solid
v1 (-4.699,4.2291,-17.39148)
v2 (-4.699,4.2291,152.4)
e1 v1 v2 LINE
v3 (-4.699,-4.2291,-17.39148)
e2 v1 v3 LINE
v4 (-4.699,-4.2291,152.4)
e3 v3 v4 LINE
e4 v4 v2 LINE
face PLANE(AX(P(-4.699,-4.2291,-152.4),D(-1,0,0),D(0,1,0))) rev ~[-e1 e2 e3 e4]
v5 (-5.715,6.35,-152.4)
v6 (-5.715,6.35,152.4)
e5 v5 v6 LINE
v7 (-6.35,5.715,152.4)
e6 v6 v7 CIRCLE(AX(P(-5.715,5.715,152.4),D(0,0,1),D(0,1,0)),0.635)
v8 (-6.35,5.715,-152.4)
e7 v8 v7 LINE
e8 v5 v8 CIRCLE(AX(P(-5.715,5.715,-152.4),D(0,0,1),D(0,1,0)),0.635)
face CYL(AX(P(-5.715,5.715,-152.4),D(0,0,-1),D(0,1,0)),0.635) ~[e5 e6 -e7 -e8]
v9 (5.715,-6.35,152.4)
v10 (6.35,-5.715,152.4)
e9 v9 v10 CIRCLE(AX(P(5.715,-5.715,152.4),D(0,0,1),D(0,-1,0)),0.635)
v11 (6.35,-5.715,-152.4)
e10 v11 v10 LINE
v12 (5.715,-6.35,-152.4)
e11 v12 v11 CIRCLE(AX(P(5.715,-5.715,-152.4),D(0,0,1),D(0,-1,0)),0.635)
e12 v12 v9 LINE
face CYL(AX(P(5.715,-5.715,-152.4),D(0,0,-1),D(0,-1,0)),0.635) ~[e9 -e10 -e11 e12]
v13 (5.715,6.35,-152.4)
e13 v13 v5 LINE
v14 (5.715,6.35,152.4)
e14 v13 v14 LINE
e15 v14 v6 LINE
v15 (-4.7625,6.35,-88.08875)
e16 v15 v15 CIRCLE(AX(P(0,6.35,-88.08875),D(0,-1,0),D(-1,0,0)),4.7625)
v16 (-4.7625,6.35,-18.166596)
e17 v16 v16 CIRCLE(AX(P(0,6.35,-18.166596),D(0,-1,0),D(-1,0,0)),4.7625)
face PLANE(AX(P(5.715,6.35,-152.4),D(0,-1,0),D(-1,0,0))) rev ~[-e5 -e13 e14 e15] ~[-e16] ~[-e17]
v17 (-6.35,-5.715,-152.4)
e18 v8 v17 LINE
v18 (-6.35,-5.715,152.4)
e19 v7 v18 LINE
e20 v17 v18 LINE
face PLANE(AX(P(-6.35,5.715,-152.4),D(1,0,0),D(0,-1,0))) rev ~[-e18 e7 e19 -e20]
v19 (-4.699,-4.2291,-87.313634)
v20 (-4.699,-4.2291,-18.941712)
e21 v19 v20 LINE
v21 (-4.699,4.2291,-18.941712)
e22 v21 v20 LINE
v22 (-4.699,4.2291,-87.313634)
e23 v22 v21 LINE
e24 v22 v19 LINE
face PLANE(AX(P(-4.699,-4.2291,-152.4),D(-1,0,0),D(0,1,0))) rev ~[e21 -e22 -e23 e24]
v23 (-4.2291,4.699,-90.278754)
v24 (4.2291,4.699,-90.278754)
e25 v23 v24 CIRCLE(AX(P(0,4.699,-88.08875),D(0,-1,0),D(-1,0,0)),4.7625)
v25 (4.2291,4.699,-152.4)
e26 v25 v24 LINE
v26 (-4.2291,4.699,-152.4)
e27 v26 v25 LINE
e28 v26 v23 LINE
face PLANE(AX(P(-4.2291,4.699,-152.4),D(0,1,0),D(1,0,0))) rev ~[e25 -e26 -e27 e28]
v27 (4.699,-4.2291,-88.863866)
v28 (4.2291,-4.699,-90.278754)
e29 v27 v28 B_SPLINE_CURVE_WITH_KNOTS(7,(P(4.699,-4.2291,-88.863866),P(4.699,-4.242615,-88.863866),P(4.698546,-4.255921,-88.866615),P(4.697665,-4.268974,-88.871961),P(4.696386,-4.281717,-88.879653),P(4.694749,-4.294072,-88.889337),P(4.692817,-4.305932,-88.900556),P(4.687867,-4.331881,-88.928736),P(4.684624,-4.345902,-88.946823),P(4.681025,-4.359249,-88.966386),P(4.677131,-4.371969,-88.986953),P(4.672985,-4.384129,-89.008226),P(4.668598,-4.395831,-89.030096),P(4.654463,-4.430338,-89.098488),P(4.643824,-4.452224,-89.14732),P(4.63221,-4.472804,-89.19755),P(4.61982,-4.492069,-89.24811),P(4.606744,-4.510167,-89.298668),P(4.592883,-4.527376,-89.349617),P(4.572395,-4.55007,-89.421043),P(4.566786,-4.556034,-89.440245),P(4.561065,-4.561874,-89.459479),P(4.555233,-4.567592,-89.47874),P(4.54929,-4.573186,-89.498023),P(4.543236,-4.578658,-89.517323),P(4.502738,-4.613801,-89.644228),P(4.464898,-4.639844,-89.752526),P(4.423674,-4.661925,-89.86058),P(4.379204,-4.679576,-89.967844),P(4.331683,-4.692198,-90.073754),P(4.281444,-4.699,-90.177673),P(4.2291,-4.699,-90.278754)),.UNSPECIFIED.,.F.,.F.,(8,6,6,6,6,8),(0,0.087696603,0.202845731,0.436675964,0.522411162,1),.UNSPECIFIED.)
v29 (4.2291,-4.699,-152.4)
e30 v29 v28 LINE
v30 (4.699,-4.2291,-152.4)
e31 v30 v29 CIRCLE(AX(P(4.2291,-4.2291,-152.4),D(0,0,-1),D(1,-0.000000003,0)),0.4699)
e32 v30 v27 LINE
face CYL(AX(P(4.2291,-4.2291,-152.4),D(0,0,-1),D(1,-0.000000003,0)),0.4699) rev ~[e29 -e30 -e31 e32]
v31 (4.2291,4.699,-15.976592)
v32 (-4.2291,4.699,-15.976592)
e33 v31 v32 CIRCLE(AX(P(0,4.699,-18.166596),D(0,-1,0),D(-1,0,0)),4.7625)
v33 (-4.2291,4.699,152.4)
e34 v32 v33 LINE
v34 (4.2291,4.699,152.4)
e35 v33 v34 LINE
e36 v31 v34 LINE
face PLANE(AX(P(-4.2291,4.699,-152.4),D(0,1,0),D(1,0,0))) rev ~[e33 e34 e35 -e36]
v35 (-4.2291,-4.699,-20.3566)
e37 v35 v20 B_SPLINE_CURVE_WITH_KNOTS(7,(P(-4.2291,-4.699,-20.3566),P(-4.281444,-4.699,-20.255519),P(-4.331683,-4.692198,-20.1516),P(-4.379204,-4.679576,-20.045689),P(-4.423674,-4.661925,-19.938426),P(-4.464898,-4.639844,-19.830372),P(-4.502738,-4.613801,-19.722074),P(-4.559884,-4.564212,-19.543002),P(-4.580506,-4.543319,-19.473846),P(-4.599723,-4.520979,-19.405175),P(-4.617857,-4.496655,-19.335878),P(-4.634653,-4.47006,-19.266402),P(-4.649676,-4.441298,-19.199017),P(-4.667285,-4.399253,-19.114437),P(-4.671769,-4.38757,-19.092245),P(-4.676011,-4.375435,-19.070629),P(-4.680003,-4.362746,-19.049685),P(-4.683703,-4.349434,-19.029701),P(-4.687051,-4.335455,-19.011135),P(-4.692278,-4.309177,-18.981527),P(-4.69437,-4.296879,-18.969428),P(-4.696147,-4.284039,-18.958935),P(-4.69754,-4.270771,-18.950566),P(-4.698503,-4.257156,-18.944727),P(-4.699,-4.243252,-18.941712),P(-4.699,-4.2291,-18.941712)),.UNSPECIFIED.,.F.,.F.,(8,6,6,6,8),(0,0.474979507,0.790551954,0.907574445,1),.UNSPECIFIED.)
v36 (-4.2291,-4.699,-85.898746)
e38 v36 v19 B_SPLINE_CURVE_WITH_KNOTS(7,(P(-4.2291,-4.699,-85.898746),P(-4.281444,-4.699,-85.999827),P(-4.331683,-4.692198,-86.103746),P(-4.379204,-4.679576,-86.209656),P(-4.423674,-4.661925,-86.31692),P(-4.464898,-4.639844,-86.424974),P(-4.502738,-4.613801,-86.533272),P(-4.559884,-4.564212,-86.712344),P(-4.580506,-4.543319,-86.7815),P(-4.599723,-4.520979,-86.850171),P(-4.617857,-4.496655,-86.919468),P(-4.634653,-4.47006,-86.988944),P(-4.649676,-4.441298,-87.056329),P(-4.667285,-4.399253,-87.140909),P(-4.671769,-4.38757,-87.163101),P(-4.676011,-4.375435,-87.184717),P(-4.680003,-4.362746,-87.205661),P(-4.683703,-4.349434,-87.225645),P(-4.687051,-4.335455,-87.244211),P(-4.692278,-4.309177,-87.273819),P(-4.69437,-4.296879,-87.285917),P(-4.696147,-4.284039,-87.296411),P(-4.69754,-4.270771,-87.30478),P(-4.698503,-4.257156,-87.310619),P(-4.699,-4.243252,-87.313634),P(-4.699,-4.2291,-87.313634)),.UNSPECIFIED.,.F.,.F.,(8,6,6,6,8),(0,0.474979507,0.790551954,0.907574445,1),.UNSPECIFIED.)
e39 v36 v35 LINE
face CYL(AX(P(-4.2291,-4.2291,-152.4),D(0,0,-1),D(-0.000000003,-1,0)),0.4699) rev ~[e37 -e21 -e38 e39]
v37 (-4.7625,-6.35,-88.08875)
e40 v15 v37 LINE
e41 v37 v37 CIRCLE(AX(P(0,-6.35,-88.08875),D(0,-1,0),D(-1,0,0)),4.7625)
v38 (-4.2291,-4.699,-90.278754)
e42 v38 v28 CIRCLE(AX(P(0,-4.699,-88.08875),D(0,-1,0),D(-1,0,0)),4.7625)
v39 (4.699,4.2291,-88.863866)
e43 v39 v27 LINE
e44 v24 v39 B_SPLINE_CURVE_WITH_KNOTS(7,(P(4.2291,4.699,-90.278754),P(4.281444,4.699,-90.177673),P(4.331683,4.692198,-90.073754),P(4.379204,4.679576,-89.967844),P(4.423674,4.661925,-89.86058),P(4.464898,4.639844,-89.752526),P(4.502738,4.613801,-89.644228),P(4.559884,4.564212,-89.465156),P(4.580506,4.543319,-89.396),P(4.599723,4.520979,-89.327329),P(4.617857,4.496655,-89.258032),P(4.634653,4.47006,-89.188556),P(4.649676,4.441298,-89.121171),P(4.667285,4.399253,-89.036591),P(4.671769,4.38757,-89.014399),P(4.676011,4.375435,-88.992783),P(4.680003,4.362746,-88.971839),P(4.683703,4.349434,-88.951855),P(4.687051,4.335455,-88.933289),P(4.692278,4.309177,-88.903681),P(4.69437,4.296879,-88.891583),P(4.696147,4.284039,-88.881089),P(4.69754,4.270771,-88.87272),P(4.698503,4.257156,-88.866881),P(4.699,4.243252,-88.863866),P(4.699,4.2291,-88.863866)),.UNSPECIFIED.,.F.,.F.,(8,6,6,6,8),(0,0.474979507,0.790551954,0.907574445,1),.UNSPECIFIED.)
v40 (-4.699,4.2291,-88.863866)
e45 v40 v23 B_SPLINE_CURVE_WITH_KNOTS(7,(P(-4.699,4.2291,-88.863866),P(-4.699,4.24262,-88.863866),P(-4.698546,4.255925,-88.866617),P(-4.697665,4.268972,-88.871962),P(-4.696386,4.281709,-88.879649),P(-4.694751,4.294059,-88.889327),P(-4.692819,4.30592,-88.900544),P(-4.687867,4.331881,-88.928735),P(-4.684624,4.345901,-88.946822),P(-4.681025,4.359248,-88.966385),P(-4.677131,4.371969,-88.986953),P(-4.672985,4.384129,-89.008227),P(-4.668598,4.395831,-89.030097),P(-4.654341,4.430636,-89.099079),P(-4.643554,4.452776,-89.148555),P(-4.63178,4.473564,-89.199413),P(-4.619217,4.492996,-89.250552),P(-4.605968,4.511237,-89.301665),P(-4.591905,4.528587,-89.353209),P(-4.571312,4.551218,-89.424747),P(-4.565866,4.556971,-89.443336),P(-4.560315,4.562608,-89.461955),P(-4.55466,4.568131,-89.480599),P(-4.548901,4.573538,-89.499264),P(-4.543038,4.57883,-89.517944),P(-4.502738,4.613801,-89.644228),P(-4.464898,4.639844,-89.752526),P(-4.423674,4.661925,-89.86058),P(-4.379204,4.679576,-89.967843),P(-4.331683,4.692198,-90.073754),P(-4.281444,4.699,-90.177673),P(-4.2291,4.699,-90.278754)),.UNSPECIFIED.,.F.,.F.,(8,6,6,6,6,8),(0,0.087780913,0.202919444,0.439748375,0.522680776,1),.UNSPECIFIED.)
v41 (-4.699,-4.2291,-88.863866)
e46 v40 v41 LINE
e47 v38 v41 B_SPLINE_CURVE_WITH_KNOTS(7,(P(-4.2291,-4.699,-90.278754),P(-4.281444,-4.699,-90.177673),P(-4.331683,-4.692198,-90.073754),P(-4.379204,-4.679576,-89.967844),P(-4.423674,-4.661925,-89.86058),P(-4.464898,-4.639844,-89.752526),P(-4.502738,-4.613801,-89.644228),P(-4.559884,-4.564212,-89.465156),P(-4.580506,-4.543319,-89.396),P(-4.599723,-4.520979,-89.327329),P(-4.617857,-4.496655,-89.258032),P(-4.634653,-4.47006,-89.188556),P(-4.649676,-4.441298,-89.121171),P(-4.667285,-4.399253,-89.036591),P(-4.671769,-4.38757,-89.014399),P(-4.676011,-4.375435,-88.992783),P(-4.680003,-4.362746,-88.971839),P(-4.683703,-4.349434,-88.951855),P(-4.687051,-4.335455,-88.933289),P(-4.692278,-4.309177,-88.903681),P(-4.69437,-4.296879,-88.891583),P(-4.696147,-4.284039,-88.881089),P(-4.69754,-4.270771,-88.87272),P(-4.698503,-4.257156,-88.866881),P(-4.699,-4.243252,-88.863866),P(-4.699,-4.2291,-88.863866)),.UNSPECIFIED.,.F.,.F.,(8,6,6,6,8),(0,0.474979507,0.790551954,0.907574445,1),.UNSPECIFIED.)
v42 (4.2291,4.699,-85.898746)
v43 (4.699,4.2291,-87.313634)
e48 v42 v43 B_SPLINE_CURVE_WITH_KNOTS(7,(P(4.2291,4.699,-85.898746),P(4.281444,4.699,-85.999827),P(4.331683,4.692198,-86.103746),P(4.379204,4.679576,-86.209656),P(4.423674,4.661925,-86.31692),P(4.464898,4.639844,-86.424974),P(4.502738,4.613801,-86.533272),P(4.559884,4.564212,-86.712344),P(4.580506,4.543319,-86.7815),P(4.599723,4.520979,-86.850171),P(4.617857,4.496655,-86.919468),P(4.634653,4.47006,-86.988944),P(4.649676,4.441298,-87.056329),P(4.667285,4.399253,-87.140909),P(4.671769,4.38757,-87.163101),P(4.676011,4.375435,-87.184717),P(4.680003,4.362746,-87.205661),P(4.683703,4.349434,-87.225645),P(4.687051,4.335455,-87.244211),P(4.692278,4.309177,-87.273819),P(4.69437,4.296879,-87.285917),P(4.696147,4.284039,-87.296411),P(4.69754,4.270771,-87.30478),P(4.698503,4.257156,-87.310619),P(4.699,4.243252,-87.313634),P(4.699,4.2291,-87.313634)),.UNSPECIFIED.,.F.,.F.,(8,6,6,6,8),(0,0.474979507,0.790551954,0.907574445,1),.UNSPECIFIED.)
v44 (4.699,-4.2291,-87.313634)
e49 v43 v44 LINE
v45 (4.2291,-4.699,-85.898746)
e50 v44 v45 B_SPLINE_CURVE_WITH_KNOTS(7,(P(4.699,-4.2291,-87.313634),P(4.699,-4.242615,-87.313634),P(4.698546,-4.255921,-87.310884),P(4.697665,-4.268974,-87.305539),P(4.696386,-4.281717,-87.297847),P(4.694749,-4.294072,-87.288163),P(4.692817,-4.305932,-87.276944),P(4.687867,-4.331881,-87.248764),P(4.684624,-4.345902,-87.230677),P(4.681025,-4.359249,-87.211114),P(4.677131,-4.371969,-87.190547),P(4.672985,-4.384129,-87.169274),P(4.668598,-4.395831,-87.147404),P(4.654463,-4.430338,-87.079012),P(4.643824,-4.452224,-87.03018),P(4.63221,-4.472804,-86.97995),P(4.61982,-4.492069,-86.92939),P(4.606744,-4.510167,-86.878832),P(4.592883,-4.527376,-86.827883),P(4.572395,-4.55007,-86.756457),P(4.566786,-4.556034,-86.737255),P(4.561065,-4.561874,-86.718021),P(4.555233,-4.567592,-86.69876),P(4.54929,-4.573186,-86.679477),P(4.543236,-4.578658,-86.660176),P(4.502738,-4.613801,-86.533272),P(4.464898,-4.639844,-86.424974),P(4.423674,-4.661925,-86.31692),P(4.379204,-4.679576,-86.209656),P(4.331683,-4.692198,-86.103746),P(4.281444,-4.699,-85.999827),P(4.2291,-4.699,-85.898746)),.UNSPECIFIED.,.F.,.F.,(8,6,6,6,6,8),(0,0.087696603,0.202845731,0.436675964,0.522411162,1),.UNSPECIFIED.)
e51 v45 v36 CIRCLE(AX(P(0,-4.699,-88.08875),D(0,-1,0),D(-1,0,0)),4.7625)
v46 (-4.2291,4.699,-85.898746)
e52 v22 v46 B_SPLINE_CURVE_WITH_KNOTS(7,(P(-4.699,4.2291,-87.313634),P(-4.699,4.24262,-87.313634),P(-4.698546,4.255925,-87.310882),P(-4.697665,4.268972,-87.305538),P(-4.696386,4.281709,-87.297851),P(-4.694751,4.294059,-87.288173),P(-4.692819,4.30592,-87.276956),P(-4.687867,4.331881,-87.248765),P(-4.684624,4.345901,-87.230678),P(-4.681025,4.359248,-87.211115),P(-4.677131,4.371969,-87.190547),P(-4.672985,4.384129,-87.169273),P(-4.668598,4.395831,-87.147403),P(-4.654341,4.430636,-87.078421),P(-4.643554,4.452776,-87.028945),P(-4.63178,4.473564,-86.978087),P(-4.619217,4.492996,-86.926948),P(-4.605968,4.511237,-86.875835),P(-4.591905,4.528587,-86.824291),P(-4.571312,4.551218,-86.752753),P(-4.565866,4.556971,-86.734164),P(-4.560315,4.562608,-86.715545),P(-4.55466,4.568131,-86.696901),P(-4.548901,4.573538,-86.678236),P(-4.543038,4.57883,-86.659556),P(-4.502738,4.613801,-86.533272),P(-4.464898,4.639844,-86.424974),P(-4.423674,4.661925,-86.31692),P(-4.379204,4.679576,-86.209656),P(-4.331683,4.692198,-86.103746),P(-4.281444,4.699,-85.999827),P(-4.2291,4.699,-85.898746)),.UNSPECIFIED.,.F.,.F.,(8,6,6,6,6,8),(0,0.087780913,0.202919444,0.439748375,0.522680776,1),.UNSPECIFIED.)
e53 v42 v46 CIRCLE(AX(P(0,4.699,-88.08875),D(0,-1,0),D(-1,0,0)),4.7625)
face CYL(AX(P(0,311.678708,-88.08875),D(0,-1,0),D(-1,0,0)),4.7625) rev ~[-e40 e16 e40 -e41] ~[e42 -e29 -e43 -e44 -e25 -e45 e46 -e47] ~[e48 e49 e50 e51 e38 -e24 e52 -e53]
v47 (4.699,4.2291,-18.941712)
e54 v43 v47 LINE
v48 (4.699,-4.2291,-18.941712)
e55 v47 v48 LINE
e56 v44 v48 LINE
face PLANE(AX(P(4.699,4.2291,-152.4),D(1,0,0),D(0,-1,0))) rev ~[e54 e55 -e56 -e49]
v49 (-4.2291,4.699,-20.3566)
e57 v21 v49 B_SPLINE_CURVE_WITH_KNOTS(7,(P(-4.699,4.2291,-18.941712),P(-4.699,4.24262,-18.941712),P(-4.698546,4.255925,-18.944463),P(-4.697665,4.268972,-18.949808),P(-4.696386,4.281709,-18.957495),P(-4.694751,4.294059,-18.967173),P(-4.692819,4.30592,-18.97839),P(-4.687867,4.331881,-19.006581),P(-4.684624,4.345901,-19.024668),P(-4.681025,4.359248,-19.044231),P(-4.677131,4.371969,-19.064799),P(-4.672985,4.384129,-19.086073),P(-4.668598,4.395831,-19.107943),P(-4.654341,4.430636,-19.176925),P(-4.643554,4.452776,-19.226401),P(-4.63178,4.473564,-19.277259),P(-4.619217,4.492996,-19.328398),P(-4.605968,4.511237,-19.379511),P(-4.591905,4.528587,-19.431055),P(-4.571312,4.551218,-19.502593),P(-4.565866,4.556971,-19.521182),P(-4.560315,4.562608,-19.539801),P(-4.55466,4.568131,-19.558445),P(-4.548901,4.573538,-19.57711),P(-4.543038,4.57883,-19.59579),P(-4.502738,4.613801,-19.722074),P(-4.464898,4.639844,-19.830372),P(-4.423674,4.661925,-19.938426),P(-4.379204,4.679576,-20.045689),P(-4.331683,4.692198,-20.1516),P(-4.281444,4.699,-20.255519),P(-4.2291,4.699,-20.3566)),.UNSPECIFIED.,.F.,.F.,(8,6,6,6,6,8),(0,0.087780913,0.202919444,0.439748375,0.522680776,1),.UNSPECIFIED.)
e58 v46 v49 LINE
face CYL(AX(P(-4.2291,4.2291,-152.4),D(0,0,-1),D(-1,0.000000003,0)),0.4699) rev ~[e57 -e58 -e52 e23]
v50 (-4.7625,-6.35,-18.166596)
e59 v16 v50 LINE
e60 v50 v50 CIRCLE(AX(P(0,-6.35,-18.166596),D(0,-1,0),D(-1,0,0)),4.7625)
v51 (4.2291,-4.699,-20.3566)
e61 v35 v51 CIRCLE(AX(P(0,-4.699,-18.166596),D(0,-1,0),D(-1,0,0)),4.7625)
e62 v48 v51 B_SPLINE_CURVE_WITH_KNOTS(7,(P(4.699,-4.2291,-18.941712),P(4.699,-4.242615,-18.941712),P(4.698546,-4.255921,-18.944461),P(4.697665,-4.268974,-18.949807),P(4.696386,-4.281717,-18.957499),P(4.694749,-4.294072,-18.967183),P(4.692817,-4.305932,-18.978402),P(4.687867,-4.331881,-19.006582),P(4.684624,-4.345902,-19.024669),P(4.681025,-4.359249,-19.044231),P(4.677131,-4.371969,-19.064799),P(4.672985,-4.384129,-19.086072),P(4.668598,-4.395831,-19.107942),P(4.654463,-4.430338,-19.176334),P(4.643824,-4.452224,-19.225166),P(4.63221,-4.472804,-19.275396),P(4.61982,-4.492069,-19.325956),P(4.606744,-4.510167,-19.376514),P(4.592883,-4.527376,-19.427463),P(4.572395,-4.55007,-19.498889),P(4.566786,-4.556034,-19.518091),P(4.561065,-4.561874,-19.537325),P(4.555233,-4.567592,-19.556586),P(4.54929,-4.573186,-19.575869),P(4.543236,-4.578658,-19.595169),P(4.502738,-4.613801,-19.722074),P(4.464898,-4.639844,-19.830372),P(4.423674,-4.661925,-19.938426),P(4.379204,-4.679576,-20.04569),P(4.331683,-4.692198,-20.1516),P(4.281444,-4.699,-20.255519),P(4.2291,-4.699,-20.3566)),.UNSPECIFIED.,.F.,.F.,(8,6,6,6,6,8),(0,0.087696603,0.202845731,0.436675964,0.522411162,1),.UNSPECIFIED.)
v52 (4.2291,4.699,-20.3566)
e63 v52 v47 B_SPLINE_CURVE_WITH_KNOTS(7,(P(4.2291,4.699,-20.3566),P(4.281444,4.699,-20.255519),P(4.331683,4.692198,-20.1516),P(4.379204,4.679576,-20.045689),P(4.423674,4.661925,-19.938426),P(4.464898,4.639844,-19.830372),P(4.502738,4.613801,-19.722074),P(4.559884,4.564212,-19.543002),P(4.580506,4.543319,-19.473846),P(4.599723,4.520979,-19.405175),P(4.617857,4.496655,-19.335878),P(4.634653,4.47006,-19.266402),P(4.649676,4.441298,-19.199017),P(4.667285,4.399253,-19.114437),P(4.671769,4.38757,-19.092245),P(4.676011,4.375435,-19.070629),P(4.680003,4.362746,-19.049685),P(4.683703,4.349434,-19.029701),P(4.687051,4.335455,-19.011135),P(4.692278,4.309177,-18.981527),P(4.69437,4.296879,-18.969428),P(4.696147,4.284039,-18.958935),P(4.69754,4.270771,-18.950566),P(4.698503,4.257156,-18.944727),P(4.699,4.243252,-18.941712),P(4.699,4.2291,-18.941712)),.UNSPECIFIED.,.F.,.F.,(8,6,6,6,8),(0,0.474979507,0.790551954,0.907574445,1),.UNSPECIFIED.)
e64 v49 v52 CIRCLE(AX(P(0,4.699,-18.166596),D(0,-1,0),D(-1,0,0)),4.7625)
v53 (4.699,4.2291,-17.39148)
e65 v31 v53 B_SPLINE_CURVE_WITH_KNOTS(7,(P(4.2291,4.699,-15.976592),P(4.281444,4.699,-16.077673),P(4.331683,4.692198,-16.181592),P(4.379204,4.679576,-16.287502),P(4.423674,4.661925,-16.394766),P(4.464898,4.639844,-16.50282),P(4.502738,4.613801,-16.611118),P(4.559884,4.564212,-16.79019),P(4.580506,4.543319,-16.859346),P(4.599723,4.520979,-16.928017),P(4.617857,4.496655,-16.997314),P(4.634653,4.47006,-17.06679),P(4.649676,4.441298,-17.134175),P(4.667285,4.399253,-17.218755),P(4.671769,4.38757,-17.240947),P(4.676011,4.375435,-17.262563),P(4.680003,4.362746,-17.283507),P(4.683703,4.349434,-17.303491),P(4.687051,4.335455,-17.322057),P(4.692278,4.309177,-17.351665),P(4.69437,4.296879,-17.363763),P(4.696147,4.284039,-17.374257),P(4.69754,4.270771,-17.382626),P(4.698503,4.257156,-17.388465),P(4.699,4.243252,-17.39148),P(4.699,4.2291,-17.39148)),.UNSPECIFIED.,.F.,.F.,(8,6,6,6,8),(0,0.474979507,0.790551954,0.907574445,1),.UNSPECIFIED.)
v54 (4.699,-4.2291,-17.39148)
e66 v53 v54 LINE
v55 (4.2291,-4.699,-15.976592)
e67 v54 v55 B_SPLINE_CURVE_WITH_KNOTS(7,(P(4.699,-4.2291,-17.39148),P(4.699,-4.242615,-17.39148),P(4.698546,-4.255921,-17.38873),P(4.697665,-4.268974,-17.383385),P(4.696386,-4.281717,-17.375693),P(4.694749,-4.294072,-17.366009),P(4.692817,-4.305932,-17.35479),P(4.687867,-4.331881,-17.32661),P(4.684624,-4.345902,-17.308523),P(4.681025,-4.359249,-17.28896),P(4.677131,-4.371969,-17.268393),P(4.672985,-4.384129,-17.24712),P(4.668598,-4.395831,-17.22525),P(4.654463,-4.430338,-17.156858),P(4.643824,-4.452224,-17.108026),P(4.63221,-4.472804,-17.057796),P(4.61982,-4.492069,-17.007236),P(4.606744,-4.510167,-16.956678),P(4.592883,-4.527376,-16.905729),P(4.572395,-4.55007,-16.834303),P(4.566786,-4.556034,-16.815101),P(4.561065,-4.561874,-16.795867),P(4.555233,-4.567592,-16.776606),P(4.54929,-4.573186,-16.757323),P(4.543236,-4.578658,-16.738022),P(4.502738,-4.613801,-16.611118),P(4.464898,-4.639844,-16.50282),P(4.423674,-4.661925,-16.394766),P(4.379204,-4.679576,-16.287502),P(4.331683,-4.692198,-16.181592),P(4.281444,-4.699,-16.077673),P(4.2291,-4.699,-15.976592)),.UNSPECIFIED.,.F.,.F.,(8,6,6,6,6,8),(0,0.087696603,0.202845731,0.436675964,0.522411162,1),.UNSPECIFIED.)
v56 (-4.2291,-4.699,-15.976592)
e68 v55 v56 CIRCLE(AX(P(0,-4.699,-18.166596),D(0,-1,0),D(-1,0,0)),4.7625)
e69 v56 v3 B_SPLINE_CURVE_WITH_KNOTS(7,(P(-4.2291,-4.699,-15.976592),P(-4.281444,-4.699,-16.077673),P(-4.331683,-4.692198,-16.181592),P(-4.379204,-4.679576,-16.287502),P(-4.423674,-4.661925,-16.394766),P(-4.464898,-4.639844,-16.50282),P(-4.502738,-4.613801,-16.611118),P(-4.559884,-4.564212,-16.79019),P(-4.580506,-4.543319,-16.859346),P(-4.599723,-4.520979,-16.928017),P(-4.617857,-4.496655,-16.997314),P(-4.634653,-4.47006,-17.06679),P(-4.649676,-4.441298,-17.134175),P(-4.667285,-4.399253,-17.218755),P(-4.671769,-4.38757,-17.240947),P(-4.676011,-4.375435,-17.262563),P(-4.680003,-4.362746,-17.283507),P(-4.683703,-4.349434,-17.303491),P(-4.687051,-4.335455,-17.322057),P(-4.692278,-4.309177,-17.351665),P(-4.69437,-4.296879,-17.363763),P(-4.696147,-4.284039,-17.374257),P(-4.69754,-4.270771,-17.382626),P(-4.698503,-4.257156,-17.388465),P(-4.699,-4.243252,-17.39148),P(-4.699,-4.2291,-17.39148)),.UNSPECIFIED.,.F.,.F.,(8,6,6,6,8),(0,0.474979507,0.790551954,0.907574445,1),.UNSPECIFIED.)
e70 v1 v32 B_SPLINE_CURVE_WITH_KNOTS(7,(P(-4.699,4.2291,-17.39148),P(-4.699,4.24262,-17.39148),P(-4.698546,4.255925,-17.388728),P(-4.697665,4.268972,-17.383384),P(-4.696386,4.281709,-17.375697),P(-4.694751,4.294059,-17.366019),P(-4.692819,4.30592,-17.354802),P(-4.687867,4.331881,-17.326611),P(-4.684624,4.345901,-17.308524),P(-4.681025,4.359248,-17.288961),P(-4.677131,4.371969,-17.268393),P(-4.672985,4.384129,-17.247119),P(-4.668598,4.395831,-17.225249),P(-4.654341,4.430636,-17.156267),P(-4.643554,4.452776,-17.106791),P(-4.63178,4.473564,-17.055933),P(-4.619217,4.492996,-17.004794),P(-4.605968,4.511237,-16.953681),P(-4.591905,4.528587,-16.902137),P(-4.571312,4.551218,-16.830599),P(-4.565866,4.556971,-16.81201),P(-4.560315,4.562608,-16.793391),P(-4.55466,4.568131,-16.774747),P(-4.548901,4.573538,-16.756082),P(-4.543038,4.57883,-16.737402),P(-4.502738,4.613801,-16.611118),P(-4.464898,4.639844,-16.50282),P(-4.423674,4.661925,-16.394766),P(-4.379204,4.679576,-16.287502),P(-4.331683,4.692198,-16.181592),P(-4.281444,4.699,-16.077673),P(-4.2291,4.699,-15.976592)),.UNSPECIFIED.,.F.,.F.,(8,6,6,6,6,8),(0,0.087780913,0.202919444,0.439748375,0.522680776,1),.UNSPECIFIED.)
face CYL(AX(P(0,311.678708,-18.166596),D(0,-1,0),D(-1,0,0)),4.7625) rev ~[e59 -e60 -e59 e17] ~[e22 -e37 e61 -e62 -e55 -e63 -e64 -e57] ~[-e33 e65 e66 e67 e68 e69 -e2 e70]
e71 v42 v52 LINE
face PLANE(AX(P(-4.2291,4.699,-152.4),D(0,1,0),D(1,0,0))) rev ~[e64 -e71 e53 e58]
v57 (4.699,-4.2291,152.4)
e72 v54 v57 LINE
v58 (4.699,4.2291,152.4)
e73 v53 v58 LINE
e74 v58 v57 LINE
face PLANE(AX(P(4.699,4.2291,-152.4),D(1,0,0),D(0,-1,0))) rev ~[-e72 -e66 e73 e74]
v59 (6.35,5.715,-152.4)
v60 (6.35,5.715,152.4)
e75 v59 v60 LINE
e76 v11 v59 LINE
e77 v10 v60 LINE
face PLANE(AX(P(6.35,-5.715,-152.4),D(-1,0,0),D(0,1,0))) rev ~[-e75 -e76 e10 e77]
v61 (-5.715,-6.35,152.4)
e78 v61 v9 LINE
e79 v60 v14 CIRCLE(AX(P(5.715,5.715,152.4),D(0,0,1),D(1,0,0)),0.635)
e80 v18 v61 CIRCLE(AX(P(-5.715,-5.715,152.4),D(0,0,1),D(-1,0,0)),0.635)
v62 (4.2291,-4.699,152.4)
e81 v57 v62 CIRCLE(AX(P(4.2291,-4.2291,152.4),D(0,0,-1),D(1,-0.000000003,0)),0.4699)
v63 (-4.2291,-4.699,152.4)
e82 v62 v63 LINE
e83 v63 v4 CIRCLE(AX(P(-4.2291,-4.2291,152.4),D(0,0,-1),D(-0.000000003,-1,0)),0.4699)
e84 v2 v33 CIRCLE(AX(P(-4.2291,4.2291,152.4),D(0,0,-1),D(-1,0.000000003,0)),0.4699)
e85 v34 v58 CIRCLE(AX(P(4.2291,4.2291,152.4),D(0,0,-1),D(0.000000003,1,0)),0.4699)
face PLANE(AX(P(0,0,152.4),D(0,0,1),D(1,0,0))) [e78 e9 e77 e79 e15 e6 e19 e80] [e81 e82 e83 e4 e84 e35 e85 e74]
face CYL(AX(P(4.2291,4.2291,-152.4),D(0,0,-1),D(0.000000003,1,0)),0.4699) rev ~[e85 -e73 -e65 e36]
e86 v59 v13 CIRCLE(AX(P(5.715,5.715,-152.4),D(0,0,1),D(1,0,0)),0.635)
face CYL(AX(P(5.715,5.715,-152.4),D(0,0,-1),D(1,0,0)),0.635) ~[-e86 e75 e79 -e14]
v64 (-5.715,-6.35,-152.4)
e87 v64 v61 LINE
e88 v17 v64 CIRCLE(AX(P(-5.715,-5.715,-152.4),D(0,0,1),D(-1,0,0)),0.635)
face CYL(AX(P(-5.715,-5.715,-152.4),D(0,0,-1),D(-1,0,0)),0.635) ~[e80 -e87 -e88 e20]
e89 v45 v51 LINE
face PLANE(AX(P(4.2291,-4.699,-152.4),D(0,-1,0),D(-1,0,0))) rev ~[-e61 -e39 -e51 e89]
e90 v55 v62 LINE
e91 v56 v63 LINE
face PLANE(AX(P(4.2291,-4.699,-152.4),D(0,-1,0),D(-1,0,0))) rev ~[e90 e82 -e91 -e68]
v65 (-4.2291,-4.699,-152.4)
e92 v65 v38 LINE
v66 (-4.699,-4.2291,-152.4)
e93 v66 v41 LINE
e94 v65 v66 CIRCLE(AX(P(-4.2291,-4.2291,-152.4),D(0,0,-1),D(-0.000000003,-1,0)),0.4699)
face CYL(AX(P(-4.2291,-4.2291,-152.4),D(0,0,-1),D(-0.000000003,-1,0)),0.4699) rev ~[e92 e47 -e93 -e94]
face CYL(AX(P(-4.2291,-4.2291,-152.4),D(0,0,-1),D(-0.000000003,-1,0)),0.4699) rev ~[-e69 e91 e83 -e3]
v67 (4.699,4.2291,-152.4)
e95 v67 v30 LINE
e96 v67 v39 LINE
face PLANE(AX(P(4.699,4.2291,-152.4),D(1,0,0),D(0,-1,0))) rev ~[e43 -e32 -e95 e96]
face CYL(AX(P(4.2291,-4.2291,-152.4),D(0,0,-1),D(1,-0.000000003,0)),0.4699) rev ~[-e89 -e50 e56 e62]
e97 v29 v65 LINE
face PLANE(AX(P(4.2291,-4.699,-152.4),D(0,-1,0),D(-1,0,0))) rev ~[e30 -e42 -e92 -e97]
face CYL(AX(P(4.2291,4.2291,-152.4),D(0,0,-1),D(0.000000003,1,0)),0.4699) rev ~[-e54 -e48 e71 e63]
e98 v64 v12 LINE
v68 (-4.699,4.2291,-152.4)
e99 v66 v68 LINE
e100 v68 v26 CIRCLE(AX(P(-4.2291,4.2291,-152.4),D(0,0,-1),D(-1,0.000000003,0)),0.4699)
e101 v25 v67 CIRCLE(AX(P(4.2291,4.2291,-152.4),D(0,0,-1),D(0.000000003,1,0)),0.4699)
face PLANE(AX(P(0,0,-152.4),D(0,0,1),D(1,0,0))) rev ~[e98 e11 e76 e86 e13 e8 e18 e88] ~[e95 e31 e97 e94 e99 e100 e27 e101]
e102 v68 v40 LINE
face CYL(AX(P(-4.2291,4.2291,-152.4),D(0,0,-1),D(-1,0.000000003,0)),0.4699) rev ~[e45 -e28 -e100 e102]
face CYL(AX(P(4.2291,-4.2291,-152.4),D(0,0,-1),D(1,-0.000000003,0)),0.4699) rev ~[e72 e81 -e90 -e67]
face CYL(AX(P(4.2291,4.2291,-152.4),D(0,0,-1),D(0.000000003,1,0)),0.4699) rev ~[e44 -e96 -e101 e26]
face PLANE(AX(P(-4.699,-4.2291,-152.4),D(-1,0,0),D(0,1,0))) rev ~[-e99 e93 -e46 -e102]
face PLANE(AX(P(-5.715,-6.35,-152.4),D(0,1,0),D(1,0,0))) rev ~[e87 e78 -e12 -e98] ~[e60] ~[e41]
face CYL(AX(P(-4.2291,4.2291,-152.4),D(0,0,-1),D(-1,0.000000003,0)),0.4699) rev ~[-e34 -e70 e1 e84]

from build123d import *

# Parameters (mm, degrees)
BOSS_EXTRUDE1_DEPTH          = 152.4
BOSS_EXTRUDE1_DEPTH_BACK     = 152.4
F_3_8_0_375_DIAMETER_HOLE1_D = 9.525
F_3_8_0_375_DIAMETER_HOLE2_D = 9.525


with BuildPart() as part:
    # Sketch4 → Boss-Extrude1 (new, two sides: drawn at the far end of the back side and taken through both)
    with BuildSketch(Plane.XY.offset(-BOSS_EXTRUDE1_DEPTH_BACK)):
        with BuildLine():
            Line((6.35, -5.715), (6.35, 5.715))
            ThreePointArc((6.35, 5.715), (6.164012806, 6.164012806), (5.715, 6.35))
            Line((5.715, 6.35), (-5.715, 6.35))
            ThreePointArc((-5.715, 6.35), (-6.164012806, 6.164012806), (-6.35, 5.715))
            Line((-6.35, 5.715), (-6.35, -5.715))
            ThreePointArc((-6.35, -5.715), (-6.164012806, -6.164012806), (-5.715, -6.35))
            Line((-5.715, -6.35), (5.715, -6.35))
            ThreePointArc((5.715, -6.35), (6.164012806, -6.164012806), (6.35, -5.715))
        make_face()
        with BuildLine():
            Line((4.699, 4.2291), (4.699, -4.2291))
            ThreePointArc((4.699, -4.2291), (4.561369476, -4.561369476), (4.2291, -4.699))
            Line((4.2291, -4.699), (-4.2291, -4.699))
            ThreePointArc((-4.2291, -4.699), (-4.561369476, -4.561369476), (-4.699, -4.2291))
            Line((-4.699, -4.2291), (-4.699, 4.2291))
            ThreePointArc((-4.699, 4.2291), (-4.561369476, 4.561369476), (-4.2291, 4.699))
            Line((-4.2291, 4.699), (4.2291, 4.699))
            ThreePointArc((4.2291, 4.699), (4.561369476, 4.561369476), (4.699, 4.2291))
        make_face(mode=Mode.SUBTRACT)
    extrude(amount=BOSS_EXTRUDE1_DEPTH + BOSS_EXTRUDE1_DEPTH_BACK)

    # 3/8 (0.375) Diameter Hole1 (through all)
    with Locations(Plane(origin=(0, 6.35, 0), x_dir=(1, 0, 0), z_dir=(0, 1, 0))):
        with Locations((0, 88.088749974)):
            Hole(F_3_8_0_375_DIAMETER_HOLE1_D / 2)

    # 3/8 (0.375) Diameter Hole2 (through all)
    with Locations(Plane(origin=(0, 6.35, 0), x_dir=(1, 0, 0), z_dir=(0, 1, 0))):
        with Locations((0, 18.166595951)):
            Hole(F_3_8_0_375_DIAMETER_HOLE2_D / 2)


solid = part.part
